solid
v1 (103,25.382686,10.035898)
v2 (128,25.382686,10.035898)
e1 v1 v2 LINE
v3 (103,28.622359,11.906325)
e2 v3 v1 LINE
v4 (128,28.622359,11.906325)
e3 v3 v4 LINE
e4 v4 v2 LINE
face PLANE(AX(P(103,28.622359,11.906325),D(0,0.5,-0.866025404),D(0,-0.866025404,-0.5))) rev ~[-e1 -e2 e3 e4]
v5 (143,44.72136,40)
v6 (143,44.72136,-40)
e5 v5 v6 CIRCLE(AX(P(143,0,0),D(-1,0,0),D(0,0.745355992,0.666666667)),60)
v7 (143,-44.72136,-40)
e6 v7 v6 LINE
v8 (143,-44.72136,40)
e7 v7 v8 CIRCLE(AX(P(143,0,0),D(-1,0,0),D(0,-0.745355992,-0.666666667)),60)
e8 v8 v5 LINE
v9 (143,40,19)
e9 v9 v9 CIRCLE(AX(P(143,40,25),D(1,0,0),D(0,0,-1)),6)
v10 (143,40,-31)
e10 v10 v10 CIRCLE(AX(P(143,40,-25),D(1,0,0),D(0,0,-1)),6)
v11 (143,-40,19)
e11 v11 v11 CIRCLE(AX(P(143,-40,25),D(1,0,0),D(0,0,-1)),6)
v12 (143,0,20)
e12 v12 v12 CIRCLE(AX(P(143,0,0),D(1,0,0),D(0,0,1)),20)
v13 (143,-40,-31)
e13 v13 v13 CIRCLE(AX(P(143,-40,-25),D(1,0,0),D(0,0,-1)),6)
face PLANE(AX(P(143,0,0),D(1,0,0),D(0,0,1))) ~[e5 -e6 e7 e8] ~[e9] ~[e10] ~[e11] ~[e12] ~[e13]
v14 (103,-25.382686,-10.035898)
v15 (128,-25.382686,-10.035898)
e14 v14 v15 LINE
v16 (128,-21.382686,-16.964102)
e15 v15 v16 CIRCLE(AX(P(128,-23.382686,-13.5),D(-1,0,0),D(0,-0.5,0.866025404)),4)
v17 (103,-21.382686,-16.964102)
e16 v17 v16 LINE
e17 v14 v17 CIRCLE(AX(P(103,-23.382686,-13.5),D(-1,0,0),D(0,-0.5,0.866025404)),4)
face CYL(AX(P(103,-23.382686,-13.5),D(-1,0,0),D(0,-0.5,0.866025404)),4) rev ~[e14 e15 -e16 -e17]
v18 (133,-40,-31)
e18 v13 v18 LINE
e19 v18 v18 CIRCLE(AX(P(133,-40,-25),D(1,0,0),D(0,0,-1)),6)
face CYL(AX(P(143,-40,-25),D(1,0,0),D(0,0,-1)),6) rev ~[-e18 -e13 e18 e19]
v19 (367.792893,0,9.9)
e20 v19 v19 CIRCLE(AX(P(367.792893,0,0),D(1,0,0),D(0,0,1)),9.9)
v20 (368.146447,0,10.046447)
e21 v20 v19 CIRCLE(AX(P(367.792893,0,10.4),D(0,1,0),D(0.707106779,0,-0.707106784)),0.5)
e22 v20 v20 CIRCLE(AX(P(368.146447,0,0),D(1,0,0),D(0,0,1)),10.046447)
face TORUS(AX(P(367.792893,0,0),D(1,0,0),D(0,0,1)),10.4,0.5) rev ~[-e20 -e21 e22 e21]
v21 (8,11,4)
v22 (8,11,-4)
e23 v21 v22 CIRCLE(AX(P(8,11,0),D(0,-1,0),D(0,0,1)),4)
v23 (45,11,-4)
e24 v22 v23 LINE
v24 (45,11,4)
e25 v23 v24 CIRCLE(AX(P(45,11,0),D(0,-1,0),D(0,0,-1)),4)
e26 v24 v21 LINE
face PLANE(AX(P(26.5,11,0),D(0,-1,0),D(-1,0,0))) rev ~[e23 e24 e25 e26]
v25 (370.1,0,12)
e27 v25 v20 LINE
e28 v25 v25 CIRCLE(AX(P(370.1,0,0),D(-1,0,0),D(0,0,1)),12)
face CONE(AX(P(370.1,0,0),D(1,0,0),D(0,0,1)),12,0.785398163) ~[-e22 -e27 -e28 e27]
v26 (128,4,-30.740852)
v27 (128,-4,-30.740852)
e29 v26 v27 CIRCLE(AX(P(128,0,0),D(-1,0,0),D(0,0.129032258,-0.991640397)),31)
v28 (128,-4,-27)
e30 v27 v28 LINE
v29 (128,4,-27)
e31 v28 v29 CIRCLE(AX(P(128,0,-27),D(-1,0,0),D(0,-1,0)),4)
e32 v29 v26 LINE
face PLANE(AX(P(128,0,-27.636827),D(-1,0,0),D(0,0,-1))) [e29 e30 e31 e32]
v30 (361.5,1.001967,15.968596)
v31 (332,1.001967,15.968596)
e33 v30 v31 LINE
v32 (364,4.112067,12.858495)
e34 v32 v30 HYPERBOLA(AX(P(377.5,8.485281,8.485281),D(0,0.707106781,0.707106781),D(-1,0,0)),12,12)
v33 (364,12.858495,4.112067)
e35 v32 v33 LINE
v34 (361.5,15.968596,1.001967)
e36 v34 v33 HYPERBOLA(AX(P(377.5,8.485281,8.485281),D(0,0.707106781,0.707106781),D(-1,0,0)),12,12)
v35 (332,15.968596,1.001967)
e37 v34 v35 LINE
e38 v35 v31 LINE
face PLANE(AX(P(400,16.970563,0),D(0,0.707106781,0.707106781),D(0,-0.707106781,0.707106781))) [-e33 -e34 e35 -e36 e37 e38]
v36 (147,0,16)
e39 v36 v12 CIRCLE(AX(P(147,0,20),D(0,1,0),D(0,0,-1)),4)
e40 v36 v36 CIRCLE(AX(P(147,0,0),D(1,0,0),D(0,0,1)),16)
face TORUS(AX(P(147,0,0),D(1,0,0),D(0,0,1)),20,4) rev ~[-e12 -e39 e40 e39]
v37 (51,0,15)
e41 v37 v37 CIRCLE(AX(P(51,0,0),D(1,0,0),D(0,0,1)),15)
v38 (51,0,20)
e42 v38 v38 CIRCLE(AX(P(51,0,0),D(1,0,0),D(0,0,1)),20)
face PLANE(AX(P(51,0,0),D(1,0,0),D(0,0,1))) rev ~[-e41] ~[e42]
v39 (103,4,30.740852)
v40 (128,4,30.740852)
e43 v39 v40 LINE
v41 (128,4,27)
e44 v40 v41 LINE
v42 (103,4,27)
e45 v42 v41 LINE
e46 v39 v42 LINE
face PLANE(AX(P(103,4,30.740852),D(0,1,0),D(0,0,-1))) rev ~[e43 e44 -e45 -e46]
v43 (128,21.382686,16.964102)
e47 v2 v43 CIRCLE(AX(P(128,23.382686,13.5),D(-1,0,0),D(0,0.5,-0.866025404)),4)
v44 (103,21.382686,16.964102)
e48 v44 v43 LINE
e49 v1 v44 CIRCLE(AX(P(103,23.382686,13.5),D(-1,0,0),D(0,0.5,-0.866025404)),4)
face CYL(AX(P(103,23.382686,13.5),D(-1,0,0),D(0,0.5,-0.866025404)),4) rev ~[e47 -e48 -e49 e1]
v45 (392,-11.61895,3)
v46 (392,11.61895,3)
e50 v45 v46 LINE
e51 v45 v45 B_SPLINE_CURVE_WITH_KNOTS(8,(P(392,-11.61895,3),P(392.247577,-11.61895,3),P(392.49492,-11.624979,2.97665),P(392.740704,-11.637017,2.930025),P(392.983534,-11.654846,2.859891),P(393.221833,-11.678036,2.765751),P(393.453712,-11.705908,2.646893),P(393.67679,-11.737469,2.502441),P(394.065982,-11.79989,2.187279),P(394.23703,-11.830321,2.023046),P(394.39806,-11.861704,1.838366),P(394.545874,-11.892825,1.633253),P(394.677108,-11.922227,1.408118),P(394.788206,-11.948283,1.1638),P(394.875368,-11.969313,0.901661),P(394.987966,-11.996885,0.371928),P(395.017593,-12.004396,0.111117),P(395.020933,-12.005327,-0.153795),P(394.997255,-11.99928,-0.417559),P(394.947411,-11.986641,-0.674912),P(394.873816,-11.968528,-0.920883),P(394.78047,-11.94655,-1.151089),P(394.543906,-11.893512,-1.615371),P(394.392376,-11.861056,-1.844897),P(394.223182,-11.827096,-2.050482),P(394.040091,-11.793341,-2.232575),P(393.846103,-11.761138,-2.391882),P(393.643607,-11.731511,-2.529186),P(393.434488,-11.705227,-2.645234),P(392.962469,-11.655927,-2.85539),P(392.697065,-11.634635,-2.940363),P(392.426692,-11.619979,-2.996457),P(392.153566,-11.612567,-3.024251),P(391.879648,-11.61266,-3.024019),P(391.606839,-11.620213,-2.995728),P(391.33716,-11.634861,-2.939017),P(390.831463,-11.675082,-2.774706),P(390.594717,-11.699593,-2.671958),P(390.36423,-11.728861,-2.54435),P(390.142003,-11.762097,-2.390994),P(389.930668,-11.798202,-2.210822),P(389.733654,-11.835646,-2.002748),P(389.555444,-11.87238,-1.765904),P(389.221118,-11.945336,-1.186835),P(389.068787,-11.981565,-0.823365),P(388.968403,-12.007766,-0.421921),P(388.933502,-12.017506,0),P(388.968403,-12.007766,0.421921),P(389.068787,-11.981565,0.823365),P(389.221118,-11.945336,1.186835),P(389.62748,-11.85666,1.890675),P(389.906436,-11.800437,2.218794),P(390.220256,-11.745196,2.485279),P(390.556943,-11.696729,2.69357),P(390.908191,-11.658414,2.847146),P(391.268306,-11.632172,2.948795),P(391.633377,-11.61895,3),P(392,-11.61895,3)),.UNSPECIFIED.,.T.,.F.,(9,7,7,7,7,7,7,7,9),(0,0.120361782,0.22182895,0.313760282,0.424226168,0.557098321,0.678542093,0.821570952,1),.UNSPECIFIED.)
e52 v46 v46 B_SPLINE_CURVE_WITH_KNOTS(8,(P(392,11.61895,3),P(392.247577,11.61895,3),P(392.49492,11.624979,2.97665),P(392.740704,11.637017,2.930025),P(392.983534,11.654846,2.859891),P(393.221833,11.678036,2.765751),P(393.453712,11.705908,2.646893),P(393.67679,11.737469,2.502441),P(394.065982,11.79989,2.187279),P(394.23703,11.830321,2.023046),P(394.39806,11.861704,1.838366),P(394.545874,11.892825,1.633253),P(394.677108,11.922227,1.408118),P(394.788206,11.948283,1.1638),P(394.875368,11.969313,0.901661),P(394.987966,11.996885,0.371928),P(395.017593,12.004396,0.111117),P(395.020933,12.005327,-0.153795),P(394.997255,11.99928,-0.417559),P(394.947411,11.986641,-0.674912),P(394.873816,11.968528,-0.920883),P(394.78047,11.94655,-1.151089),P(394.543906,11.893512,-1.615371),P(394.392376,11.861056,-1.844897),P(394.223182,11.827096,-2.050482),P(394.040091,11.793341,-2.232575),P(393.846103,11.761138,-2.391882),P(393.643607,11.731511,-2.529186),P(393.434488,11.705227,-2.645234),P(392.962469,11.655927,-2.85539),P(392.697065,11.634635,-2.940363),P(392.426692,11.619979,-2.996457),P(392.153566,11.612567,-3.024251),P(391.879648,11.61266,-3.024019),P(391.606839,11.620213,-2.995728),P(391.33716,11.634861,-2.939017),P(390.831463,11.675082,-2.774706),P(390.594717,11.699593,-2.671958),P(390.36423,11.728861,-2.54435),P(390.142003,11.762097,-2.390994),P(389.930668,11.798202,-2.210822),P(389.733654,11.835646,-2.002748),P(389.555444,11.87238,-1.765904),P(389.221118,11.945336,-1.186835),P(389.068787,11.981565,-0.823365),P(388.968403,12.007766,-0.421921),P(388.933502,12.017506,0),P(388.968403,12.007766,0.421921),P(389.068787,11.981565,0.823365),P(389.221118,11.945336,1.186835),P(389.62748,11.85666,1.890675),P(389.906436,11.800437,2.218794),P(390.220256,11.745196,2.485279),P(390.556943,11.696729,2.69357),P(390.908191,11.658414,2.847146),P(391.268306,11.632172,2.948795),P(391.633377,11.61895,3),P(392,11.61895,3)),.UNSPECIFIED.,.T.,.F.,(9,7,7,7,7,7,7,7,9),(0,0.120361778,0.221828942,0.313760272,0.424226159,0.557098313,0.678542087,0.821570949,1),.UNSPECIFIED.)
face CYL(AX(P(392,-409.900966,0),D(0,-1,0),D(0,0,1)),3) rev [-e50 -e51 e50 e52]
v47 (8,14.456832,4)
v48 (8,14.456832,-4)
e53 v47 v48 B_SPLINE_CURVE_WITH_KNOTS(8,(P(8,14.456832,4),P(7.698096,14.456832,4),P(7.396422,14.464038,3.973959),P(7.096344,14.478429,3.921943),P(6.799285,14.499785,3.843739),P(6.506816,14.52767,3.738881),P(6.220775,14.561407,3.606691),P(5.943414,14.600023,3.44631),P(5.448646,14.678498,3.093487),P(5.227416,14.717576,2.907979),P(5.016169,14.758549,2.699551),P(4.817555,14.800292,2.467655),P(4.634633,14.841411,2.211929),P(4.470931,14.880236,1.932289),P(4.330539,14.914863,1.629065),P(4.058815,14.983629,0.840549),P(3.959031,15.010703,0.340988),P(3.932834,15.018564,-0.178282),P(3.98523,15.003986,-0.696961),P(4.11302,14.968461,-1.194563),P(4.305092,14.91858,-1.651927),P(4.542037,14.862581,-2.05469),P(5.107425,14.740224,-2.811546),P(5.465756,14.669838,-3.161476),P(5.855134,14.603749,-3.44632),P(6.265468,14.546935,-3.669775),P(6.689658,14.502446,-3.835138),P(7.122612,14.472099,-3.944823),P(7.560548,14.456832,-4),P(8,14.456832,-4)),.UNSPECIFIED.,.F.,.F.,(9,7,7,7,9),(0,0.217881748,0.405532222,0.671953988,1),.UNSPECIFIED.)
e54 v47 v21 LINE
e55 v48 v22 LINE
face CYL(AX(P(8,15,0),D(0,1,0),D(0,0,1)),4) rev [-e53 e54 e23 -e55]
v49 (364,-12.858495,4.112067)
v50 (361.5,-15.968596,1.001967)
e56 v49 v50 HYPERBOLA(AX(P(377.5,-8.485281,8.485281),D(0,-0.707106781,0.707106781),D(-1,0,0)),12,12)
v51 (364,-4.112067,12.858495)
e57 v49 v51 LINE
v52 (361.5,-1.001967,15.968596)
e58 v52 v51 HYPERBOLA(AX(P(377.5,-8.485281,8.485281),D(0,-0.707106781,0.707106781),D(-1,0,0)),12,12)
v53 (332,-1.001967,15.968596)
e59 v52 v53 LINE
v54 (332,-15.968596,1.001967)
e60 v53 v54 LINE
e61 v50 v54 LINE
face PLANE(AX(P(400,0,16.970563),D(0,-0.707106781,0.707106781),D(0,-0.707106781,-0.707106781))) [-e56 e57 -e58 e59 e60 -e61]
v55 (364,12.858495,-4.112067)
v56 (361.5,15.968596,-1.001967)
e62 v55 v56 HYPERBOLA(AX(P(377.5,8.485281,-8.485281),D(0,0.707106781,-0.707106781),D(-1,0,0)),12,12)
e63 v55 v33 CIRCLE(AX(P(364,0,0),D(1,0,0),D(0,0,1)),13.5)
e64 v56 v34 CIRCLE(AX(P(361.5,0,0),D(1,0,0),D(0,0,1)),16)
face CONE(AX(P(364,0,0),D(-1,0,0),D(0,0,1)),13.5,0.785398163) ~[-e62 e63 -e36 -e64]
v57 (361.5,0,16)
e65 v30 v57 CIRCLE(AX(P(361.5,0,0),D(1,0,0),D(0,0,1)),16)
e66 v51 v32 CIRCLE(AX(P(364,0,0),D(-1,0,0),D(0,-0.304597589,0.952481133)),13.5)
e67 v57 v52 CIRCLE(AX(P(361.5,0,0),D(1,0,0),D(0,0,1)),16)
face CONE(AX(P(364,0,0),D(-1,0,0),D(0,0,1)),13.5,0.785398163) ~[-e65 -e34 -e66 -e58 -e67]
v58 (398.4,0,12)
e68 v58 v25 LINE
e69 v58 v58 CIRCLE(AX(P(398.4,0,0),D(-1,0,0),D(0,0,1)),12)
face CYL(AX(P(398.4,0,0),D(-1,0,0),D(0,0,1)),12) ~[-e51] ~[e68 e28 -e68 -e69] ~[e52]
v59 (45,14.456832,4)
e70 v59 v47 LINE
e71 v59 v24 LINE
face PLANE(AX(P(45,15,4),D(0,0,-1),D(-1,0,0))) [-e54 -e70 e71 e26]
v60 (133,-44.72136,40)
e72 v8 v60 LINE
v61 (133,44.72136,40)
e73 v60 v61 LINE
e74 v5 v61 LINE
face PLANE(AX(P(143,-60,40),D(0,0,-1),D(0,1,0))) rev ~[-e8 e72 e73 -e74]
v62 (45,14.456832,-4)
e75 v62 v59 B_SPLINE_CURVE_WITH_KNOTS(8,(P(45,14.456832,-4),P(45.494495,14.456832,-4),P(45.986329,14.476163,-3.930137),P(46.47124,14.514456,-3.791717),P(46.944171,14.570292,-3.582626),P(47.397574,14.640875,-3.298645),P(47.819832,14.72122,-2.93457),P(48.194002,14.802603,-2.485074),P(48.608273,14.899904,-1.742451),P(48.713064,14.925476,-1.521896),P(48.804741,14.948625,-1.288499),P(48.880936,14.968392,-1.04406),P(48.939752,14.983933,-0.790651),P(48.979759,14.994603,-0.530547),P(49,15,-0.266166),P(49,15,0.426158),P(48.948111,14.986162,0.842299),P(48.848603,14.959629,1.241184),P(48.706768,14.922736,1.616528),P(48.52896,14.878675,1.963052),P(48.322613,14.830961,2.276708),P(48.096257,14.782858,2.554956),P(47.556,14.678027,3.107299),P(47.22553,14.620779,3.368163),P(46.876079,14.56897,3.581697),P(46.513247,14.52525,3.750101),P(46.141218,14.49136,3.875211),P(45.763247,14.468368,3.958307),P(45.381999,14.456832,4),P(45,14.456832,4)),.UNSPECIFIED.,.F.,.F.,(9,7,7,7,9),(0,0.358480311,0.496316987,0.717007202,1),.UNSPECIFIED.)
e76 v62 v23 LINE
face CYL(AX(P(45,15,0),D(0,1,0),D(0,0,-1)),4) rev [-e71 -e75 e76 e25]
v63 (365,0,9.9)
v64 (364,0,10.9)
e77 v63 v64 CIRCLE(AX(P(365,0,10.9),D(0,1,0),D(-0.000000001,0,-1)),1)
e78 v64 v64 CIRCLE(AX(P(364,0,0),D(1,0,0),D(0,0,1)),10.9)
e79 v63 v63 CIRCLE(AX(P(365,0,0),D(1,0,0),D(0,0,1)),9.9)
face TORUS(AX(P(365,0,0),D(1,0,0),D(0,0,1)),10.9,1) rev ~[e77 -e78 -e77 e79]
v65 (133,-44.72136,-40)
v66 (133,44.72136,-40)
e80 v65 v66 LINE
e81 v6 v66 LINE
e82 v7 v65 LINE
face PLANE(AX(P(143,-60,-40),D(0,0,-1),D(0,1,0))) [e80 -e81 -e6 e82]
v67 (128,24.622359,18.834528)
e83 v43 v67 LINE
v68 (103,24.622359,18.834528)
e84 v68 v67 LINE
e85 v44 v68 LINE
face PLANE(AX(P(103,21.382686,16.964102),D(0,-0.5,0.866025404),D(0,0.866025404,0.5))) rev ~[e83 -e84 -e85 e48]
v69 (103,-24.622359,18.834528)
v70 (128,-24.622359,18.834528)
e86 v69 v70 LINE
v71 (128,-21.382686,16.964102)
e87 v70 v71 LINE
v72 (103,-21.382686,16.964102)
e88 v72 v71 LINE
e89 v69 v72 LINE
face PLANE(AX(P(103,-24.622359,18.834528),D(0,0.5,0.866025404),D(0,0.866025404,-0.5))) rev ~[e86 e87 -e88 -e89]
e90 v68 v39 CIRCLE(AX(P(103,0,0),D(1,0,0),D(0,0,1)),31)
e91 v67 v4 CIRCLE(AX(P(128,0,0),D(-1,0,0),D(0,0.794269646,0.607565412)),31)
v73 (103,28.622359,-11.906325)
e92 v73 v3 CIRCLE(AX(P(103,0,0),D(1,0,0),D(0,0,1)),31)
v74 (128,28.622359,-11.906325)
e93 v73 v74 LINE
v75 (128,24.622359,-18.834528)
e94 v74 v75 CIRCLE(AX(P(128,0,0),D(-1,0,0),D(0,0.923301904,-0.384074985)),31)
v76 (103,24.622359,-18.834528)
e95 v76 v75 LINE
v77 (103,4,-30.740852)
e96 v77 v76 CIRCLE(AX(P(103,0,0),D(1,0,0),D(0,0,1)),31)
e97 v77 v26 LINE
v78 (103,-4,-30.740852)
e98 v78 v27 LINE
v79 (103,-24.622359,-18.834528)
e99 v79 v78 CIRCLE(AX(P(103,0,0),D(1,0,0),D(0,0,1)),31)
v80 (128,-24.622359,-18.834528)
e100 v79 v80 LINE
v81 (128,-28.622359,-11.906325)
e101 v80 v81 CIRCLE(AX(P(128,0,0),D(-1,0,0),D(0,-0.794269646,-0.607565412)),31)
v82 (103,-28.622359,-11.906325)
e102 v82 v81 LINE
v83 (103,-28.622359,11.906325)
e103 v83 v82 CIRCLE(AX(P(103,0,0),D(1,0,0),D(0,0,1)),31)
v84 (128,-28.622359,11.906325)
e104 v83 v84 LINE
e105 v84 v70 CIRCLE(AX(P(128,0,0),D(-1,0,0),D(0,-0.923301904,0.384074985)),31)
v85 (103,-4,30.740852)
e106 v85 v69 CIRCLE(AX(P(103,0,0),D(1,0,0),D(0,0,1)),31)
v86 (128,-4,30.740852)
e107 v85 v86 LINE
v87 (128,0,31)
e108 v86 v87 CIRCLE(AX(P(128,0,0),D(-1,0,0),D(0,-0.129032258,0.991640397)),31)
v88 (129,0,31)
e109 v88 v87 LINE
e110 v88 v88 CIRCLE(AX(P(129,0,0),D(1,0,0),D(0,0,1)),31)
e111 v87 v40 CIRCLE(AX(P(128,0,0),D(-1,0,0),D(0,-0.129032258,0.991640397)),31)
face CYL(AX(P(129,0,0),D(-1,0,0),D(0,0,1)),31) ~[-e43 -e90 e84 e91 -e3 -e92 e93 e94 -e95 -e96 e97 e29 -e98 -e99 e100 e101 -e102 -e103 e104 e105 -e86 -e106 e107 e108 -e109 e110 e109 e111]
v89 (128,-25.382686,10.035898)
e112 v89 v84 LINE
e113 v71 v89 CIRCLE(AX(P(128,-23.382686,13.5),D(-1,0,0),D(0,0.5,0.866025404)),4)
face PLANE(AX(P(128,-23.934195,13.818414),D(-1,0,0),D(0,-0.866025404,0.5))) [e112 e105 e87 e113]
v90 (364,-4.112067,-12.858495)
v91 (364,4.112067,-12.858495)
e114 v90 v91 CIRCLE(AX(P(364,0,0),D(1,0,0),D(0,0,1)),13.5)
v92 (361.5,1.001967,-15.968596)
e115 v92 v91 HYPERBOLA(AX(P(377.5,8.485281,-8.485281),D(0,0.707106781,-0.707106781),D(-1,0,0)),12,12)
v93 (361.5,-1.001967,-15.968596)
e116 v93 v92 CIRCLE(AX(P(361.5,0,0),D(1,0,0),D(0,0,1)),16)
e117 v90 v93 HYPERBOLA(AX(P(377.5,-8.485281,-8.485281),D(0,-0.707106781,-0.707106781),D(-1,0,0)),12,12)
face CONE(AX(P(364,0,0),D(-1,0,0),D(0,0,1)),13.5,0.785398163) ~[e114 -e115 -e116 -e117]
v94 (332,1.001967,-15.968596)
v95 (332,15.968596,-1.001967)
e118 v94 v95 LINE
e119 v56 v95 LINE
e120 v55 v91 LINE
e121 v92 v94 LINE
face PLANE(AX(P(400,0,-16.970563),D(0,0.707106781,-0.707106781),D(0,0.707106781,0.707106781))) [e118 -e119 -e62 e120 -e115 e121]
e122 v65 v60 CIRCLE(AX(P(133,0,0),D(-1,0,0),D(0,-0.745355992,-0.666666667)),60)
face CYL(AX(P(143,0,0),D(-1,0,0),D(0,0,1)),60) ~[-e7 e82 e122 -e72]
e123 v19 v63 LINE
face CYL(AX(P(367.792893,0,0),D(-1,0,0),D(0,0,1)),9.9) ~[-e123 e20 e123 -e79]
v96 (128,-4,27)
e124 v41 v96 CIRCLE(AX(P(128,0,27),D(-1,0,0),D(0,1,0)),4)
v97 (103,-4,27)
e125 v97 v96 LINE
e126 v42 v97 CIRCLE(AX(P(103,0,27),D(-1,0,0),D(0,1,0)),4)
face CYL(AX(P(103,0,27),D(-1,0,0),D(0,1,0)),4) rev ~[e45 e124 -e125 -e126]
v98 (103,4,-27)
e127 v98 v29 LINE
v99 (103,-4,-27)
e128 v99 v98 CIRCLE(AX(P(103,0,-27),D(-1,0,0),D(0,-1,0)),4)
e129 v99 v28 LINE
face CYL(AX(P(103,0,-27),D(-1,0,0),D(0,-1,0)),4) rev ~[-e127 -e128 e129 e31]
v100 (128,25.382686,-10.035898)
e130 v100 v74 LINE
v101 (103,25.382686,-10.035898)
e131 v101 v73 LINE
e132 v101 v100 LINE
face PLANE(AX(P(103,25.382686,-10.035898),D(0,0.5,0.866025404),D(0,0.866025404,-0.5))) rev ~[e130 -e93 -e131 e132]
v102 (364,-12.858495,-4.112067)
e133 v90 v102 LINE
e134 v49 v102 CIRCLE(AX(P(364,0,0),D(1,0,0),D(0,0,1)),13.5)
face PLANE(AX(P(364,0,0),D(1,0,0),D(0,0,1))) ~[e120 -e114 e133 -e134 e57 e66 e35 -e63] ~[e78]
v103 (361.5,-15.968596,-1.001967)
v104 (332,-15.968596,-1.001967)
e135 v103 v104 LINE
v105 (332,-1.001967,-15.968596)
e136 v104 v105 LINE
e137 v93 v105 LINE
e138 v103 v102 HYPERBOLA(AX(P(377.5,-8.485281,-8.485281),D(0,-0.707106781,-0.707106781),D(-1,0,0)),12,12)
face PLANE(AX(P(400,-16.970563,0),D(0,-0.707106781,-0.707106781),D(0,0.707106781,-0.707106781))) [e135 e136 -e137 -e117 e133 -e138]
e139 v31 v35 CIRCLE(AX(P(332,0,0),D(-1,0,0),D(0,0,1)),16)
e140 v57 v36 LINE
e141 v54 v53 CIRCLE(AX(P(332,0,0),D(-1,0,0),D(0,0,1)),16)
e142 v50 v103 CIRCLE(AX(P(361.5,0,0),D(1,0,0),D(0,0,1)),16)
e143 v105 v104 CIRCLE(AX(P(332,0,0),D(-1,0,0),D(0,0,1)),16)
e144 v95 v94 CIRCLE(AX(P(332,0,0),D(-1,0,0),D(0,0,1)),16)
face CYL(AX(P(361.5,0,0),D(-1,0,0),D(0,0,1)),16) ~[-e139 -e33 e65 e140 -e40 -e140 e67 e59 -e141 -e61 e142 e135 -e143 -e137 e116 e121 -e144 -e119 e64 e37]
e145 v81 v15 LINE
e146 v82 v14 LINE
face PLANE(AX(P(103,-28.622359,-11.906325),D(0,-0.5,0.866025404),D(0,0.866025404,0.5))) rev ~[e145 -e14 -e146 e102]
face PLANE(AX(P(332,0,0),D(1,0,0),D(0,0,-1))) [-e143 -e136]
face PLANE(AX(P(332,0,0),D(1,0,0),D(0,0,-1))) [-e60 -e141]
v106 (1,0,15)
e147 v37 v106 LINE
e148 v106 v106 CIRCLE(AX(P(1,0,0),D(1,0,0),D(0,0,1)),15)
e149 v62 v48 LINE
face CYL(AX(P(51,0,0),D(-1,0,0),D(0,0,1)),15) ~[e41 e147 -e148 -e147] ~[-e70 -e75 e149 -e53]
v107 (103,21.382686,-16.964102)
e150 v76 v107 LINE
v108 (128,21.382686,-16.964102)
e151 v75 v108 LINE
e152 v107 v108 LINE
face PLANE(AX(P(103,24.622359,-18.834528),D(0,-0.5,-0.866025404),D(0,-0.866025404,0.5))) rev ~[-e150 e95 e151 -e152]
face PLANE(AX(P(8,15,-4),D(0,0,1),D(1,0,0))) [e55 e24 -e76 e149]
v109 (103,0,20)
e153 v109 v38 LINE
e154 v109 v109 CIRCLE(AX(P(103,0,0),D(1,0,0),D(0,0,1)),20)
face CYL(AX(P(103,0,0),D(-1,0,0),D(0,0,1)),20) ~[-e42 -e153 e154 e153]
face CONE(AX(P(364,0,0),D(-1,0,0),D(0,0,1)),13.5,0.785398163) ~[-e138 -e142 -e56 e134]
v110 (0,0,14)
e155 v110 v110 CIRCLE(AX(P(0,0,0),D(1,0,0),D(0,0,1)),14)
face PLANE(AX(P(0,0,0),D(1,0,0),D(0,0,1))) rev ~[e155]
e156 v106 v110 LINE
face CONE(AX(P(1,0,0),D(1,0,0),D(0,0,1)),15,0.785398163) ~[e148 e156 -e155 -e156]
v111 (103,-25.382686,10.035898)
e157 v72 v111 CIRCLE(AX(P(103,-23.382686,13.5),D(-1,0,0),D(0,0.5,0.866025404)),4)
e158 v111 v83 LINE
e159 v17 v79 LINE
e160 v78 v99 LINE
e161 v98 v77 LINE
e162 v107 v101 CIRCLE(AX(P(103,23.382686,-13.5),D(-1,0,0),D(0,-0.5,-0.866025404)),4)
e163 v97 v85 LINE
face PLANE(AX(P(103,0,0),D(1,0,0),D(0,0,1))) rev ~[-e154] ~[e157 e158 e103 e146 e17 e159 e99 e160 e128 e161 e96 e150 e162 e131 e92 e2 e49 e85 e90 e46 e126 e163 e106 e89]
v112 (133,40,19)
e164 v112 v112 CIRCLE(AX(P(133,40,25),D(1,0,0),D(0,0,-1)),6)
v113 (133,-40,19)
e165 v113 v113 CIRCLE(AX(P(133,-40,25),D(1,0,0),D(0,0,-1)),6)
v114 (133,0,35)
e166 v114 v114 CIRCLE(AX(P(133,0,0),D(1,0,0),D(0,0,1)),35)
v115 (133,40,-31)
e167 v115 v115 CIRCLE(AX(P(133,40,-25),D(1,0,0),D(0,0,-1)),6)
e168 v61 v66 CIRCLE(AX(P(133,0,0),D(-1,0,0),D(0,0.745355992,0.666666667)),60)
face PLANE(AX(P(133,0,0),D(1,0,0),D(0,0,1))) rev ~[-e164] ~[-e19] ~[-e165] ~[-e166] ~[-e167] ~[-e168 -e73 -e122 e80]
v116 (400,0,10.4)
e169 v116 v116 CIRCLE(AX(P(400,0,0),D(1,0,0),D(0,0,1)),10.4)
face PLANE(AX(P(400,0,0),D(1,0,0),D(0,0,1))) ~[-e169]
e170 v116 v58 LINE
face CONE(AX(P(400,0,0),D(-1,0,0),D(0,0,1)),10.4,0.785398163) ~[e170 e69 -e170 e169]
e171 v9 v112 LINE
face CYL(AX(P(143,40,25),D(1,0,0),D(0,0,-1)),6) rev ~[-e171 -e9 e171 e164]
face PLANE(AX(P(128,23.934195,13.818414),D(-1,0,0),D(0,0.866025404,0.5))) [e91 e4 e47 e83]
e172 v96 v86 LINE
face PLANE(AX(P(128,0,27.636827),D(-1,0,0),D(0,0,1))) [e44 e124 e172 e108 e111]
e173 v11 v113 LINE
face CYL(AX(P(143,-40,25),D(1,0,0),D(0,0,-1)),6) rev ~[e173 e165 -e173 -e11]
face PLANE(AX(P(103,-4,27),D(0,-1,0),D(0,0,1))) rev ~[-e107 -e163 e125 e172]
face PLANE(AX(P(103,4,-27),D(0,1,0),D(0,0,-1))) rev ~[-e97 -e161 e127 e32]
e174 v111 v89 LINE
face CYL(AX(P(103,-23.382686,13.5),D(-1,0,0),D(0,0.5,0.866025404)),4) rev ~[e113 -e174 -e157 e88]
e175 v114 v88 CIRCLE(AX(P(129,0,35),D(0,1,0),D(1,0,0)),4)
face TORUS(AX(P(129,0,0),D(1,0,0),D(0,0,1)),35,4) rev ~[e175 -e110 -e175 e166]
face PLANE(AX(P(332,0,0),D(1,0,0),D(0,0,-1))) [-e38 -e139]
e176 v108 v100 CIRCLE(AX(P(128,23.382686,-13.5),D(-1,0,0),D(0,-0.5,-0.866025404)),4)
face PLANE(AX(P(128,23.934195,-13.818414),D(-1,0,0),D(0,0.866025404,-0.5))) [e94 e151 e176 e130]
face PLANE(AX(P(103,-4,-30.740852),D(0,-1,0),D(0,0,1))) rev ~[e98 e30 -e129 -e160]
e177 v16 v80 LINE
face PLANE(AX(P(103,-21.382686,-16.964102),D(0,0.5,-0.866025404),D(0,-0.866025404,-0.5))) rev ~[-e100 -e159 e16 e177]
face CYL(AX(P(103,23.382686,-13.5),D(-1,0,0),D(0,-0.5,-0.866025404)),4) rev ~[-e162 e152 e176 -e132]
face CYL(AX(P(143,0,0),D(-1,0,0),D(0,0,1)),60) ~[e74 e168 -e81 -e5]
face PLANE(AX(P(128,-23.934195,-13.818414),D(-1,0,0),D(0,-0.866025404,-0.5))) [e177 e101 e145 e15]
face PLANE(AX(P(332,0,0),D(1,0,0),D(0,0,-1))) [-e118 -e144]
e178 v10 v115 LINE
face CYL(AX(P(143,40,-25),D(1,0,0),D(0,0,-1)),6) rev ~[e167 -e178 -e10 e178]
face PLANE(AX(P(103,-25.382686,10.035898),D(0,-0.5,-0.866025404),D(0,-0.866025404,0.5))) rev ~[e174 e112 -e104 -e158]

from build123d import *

# Parameters (mm, degrees)
SKETCH_2_OUTSIDE_W       = 208.902
SKETCH_2_OUTSIDE_H       = 208.902
CUT_EXTRUDE_1_DEPTH      = 68
CUT_EXTRUDE_2_DEPTH      = 4
CUT_EXTRUDE_4_DEPTH      = 409.900966005
CUT_EXTRUDE_4_DEPTH_BACK = 409.900966005
SKETCH_6_R               = 3
SKETCH_7_R               = 6
CUT_EXTRUDE_5_DEPTH      = 271.645524626
SKETCH_8_OUTSIDE_W       = 208.902
SKETCH_8_OUTSIDE_H       = 208.902
SKETCH_8_OUTSIDE_W_2     = 80
SKETCH_8_OUTSIDE_H_2     = 120
CUT_EXTRUDE_6_DEPTH      = 271.645524626
CUT_EXTRUDE_3_DEPTH      = 25
PATTERN_CIRCULAR_1_COUNT = 6


with BuildPart() as part:
    # Эскиз1 → Повернуть1 (revolve)
    with BuildSketch(Plane.XY, mode=Mode.PRIVATE) as revolve_1_sk:
        with BuildLine():
            Line((129, 31), (103, 31))
            Line((103, 31), (103, 20))
            Line((103, 20), (51, 20))
            Line((51, 20), (51, 15))
            Line((51, 15), (1, 15))
            Line((1, 15), (0, 14))
            Line((0, 14), (0, 0))
            Line((0, 0), (400, 0))
            Line((400, 0), (400, 10.4))
            Line((400, 10.4), (398.4, 12))
            Line((398.4, 12), (370.1, 12))
            Line((370.1, 12), (368.146446609, 10.046446609))
            ThreePointArc((368.146446609, 10.046446609), (367.984234935, 9.938060234), (367.792893219, 9.9))
            Line((367.792893219, 9.9), (365, 9.9))
            ThreePointArc((365, 9.9), (364.292893219, 10.192893219), (364, 10.9))
            Line((364, 10.9), (364, 13.5))
            Line((364, 13.5), (361.5, 16))
            Line((361.5, 16), (147, 16))
            ThreePointArc((147, 16), (144.171572875, 17.171572875), (143, 20))
            Line((143, 20), (143, 60))
            Line((143, 60), (133, 60))
            Line((133, 60), (133, 35))
            ThreePointArc((133, 35), (131.828427125, 32.171572875), (129, 31))
        make_face()
    revolve(revolve_1_sk.sketch.rotate(Axis((0, 0, 0), (1, 0, 0)), 90), axis=Axis((0, 0, 0), (1, 0, 0)))

    # Эскиз2 outside → Вырез-Вытянуть1 (cut)
    with BuildSketch(Plane(origin=(400, 0, 0), x_dir=(0, 0, -1), z_dir=(1, 0, 0))):
        Rectangle(SKETCH_2_OUTSIDE_W, SKETCH_2_OUTSIDE_H)
        Polygon((0, -16.970562748), (16.970562748, 0), (0, 16.970562748), (-16.970562748, 0), align=None, mode=Mode.SUBTRACT)
    extrude(amount=-CUT_EXTRUDE_1_DEPTH, mode=Mode.SUBTRACT)

    # Эскиз3 → Вырез-Вытянуть2 (cut)
    with BuildSketch(Plane(origin=(0, 15, 0), x_dir=(1, 0, 0), z_dir=(0, 1, 0))):
        with BuildLine():
            Line((8, 4), (45, 4))
            ThreePointArc((45, 4), (49, 0), (45, -4))
            Line((45, -4), (8, -4))
            ThreePointArc((8, -4), (4, 0), (8, 4))
        make_face()
    extrude(amount=-CUT_EXTRUDE_2_DEPTH, mode=Mode.SUBTRACT)

    # Эскиз6 → Вырез-Вытянуть4 (cut, two sides: drawn at the far end of the back side and taken through both)
    with BuildSketch(Plane(origin=(0, 0, 0), x_dir=(1, 0, 0), z_dir=(0, 1, 0)).offset(-CUT_EXTRUDE_4_DEPTH_BACK)):
        with Locations(Location((392, 0, 0), (0, 0, 270))):
            Circle(SKETCH_6_R)
    extrude(amount=CUT_EXTRUDE_4_DEPTH + CUT_EXTRUDE_4_DEPTH_BACK, mode=Mode.SUBTRACT)

    # Эскиз7 → Вырез-Вытянуть5 (cut, through all)
    with BuildSketch(Plane(origin=(143, 0, 0), x_dir=(0, 0, -1), z_dir=(1, 0, 0))):
        with Locations((-25, 40)):
            Circle(SKETCH_7_R)
        with Locations((-25, -40)):
            Circle(SKETCH_7_R)
        with Locations((25, -40)):
            Circle(SKETCH_7_R)
        with Locations((25, 40)):
            Circle(SKETCH_7_R)
    extrude(amount=-CUT_EXTRUDE_5_DEPTH, mode=Mode.SUBTRACT)

    # Эскиз8 outside → Вырез-Вытянуть6 (cut, through all)
    with BuildSketch(Plane(origin=(143, 0, 0), x_dir=(0, 0, -1), z_dir=(1, 0, 0))):
        Rectangle(SKETCH_8_OUTSIDE_W, SKETCH_8_OUTSIDE_H)
        Rectangle(SKETCH_8_OUTSIDE_W_2, SKETCH_8_OUTSIDE_H_2, mode=Mode.SUBTRACT)
    extrude(amount=-CUT_EXTRUDE_6_DEPTH, mode=Mode.SUBTRACT)

    # Эскиз4 → Вырез-Вытянуть3 (cut)
    with BuildSketch(Plane.ZY.offset(-103)):
        with BuildLine():
            Line((30.740852298, 4), (27, 4))
            ThreePointArc((27, 4), (23, 0), (27, -4))
            Line((27, -4), (30.740852298, -4))
            ThreePointArc((30.740852298, -4), (31, 0), (30.740852298, 4))
        make_face()
    cut_extrude_3 = extrude(amount=-CUT_EXTRUDE_3_DEPTH, mode=Mode.SUBTRACT)

    # Круговой массив1: Вырез-Вытянуть3 ×6 about axis
    pattern_circular_1_axis = Axis((0, 0, 0), (1, 0, 0))
    for i in range(1, PATTERN_CIRCULAR_1_COUNT):
        add(cut_extrude_3.rotate(pattern_circular_1_axis, i * 360 / PATTERN_CIRCULAR_1_COUNT), mode=Mode.SUBTRACT)


solid = part.part
